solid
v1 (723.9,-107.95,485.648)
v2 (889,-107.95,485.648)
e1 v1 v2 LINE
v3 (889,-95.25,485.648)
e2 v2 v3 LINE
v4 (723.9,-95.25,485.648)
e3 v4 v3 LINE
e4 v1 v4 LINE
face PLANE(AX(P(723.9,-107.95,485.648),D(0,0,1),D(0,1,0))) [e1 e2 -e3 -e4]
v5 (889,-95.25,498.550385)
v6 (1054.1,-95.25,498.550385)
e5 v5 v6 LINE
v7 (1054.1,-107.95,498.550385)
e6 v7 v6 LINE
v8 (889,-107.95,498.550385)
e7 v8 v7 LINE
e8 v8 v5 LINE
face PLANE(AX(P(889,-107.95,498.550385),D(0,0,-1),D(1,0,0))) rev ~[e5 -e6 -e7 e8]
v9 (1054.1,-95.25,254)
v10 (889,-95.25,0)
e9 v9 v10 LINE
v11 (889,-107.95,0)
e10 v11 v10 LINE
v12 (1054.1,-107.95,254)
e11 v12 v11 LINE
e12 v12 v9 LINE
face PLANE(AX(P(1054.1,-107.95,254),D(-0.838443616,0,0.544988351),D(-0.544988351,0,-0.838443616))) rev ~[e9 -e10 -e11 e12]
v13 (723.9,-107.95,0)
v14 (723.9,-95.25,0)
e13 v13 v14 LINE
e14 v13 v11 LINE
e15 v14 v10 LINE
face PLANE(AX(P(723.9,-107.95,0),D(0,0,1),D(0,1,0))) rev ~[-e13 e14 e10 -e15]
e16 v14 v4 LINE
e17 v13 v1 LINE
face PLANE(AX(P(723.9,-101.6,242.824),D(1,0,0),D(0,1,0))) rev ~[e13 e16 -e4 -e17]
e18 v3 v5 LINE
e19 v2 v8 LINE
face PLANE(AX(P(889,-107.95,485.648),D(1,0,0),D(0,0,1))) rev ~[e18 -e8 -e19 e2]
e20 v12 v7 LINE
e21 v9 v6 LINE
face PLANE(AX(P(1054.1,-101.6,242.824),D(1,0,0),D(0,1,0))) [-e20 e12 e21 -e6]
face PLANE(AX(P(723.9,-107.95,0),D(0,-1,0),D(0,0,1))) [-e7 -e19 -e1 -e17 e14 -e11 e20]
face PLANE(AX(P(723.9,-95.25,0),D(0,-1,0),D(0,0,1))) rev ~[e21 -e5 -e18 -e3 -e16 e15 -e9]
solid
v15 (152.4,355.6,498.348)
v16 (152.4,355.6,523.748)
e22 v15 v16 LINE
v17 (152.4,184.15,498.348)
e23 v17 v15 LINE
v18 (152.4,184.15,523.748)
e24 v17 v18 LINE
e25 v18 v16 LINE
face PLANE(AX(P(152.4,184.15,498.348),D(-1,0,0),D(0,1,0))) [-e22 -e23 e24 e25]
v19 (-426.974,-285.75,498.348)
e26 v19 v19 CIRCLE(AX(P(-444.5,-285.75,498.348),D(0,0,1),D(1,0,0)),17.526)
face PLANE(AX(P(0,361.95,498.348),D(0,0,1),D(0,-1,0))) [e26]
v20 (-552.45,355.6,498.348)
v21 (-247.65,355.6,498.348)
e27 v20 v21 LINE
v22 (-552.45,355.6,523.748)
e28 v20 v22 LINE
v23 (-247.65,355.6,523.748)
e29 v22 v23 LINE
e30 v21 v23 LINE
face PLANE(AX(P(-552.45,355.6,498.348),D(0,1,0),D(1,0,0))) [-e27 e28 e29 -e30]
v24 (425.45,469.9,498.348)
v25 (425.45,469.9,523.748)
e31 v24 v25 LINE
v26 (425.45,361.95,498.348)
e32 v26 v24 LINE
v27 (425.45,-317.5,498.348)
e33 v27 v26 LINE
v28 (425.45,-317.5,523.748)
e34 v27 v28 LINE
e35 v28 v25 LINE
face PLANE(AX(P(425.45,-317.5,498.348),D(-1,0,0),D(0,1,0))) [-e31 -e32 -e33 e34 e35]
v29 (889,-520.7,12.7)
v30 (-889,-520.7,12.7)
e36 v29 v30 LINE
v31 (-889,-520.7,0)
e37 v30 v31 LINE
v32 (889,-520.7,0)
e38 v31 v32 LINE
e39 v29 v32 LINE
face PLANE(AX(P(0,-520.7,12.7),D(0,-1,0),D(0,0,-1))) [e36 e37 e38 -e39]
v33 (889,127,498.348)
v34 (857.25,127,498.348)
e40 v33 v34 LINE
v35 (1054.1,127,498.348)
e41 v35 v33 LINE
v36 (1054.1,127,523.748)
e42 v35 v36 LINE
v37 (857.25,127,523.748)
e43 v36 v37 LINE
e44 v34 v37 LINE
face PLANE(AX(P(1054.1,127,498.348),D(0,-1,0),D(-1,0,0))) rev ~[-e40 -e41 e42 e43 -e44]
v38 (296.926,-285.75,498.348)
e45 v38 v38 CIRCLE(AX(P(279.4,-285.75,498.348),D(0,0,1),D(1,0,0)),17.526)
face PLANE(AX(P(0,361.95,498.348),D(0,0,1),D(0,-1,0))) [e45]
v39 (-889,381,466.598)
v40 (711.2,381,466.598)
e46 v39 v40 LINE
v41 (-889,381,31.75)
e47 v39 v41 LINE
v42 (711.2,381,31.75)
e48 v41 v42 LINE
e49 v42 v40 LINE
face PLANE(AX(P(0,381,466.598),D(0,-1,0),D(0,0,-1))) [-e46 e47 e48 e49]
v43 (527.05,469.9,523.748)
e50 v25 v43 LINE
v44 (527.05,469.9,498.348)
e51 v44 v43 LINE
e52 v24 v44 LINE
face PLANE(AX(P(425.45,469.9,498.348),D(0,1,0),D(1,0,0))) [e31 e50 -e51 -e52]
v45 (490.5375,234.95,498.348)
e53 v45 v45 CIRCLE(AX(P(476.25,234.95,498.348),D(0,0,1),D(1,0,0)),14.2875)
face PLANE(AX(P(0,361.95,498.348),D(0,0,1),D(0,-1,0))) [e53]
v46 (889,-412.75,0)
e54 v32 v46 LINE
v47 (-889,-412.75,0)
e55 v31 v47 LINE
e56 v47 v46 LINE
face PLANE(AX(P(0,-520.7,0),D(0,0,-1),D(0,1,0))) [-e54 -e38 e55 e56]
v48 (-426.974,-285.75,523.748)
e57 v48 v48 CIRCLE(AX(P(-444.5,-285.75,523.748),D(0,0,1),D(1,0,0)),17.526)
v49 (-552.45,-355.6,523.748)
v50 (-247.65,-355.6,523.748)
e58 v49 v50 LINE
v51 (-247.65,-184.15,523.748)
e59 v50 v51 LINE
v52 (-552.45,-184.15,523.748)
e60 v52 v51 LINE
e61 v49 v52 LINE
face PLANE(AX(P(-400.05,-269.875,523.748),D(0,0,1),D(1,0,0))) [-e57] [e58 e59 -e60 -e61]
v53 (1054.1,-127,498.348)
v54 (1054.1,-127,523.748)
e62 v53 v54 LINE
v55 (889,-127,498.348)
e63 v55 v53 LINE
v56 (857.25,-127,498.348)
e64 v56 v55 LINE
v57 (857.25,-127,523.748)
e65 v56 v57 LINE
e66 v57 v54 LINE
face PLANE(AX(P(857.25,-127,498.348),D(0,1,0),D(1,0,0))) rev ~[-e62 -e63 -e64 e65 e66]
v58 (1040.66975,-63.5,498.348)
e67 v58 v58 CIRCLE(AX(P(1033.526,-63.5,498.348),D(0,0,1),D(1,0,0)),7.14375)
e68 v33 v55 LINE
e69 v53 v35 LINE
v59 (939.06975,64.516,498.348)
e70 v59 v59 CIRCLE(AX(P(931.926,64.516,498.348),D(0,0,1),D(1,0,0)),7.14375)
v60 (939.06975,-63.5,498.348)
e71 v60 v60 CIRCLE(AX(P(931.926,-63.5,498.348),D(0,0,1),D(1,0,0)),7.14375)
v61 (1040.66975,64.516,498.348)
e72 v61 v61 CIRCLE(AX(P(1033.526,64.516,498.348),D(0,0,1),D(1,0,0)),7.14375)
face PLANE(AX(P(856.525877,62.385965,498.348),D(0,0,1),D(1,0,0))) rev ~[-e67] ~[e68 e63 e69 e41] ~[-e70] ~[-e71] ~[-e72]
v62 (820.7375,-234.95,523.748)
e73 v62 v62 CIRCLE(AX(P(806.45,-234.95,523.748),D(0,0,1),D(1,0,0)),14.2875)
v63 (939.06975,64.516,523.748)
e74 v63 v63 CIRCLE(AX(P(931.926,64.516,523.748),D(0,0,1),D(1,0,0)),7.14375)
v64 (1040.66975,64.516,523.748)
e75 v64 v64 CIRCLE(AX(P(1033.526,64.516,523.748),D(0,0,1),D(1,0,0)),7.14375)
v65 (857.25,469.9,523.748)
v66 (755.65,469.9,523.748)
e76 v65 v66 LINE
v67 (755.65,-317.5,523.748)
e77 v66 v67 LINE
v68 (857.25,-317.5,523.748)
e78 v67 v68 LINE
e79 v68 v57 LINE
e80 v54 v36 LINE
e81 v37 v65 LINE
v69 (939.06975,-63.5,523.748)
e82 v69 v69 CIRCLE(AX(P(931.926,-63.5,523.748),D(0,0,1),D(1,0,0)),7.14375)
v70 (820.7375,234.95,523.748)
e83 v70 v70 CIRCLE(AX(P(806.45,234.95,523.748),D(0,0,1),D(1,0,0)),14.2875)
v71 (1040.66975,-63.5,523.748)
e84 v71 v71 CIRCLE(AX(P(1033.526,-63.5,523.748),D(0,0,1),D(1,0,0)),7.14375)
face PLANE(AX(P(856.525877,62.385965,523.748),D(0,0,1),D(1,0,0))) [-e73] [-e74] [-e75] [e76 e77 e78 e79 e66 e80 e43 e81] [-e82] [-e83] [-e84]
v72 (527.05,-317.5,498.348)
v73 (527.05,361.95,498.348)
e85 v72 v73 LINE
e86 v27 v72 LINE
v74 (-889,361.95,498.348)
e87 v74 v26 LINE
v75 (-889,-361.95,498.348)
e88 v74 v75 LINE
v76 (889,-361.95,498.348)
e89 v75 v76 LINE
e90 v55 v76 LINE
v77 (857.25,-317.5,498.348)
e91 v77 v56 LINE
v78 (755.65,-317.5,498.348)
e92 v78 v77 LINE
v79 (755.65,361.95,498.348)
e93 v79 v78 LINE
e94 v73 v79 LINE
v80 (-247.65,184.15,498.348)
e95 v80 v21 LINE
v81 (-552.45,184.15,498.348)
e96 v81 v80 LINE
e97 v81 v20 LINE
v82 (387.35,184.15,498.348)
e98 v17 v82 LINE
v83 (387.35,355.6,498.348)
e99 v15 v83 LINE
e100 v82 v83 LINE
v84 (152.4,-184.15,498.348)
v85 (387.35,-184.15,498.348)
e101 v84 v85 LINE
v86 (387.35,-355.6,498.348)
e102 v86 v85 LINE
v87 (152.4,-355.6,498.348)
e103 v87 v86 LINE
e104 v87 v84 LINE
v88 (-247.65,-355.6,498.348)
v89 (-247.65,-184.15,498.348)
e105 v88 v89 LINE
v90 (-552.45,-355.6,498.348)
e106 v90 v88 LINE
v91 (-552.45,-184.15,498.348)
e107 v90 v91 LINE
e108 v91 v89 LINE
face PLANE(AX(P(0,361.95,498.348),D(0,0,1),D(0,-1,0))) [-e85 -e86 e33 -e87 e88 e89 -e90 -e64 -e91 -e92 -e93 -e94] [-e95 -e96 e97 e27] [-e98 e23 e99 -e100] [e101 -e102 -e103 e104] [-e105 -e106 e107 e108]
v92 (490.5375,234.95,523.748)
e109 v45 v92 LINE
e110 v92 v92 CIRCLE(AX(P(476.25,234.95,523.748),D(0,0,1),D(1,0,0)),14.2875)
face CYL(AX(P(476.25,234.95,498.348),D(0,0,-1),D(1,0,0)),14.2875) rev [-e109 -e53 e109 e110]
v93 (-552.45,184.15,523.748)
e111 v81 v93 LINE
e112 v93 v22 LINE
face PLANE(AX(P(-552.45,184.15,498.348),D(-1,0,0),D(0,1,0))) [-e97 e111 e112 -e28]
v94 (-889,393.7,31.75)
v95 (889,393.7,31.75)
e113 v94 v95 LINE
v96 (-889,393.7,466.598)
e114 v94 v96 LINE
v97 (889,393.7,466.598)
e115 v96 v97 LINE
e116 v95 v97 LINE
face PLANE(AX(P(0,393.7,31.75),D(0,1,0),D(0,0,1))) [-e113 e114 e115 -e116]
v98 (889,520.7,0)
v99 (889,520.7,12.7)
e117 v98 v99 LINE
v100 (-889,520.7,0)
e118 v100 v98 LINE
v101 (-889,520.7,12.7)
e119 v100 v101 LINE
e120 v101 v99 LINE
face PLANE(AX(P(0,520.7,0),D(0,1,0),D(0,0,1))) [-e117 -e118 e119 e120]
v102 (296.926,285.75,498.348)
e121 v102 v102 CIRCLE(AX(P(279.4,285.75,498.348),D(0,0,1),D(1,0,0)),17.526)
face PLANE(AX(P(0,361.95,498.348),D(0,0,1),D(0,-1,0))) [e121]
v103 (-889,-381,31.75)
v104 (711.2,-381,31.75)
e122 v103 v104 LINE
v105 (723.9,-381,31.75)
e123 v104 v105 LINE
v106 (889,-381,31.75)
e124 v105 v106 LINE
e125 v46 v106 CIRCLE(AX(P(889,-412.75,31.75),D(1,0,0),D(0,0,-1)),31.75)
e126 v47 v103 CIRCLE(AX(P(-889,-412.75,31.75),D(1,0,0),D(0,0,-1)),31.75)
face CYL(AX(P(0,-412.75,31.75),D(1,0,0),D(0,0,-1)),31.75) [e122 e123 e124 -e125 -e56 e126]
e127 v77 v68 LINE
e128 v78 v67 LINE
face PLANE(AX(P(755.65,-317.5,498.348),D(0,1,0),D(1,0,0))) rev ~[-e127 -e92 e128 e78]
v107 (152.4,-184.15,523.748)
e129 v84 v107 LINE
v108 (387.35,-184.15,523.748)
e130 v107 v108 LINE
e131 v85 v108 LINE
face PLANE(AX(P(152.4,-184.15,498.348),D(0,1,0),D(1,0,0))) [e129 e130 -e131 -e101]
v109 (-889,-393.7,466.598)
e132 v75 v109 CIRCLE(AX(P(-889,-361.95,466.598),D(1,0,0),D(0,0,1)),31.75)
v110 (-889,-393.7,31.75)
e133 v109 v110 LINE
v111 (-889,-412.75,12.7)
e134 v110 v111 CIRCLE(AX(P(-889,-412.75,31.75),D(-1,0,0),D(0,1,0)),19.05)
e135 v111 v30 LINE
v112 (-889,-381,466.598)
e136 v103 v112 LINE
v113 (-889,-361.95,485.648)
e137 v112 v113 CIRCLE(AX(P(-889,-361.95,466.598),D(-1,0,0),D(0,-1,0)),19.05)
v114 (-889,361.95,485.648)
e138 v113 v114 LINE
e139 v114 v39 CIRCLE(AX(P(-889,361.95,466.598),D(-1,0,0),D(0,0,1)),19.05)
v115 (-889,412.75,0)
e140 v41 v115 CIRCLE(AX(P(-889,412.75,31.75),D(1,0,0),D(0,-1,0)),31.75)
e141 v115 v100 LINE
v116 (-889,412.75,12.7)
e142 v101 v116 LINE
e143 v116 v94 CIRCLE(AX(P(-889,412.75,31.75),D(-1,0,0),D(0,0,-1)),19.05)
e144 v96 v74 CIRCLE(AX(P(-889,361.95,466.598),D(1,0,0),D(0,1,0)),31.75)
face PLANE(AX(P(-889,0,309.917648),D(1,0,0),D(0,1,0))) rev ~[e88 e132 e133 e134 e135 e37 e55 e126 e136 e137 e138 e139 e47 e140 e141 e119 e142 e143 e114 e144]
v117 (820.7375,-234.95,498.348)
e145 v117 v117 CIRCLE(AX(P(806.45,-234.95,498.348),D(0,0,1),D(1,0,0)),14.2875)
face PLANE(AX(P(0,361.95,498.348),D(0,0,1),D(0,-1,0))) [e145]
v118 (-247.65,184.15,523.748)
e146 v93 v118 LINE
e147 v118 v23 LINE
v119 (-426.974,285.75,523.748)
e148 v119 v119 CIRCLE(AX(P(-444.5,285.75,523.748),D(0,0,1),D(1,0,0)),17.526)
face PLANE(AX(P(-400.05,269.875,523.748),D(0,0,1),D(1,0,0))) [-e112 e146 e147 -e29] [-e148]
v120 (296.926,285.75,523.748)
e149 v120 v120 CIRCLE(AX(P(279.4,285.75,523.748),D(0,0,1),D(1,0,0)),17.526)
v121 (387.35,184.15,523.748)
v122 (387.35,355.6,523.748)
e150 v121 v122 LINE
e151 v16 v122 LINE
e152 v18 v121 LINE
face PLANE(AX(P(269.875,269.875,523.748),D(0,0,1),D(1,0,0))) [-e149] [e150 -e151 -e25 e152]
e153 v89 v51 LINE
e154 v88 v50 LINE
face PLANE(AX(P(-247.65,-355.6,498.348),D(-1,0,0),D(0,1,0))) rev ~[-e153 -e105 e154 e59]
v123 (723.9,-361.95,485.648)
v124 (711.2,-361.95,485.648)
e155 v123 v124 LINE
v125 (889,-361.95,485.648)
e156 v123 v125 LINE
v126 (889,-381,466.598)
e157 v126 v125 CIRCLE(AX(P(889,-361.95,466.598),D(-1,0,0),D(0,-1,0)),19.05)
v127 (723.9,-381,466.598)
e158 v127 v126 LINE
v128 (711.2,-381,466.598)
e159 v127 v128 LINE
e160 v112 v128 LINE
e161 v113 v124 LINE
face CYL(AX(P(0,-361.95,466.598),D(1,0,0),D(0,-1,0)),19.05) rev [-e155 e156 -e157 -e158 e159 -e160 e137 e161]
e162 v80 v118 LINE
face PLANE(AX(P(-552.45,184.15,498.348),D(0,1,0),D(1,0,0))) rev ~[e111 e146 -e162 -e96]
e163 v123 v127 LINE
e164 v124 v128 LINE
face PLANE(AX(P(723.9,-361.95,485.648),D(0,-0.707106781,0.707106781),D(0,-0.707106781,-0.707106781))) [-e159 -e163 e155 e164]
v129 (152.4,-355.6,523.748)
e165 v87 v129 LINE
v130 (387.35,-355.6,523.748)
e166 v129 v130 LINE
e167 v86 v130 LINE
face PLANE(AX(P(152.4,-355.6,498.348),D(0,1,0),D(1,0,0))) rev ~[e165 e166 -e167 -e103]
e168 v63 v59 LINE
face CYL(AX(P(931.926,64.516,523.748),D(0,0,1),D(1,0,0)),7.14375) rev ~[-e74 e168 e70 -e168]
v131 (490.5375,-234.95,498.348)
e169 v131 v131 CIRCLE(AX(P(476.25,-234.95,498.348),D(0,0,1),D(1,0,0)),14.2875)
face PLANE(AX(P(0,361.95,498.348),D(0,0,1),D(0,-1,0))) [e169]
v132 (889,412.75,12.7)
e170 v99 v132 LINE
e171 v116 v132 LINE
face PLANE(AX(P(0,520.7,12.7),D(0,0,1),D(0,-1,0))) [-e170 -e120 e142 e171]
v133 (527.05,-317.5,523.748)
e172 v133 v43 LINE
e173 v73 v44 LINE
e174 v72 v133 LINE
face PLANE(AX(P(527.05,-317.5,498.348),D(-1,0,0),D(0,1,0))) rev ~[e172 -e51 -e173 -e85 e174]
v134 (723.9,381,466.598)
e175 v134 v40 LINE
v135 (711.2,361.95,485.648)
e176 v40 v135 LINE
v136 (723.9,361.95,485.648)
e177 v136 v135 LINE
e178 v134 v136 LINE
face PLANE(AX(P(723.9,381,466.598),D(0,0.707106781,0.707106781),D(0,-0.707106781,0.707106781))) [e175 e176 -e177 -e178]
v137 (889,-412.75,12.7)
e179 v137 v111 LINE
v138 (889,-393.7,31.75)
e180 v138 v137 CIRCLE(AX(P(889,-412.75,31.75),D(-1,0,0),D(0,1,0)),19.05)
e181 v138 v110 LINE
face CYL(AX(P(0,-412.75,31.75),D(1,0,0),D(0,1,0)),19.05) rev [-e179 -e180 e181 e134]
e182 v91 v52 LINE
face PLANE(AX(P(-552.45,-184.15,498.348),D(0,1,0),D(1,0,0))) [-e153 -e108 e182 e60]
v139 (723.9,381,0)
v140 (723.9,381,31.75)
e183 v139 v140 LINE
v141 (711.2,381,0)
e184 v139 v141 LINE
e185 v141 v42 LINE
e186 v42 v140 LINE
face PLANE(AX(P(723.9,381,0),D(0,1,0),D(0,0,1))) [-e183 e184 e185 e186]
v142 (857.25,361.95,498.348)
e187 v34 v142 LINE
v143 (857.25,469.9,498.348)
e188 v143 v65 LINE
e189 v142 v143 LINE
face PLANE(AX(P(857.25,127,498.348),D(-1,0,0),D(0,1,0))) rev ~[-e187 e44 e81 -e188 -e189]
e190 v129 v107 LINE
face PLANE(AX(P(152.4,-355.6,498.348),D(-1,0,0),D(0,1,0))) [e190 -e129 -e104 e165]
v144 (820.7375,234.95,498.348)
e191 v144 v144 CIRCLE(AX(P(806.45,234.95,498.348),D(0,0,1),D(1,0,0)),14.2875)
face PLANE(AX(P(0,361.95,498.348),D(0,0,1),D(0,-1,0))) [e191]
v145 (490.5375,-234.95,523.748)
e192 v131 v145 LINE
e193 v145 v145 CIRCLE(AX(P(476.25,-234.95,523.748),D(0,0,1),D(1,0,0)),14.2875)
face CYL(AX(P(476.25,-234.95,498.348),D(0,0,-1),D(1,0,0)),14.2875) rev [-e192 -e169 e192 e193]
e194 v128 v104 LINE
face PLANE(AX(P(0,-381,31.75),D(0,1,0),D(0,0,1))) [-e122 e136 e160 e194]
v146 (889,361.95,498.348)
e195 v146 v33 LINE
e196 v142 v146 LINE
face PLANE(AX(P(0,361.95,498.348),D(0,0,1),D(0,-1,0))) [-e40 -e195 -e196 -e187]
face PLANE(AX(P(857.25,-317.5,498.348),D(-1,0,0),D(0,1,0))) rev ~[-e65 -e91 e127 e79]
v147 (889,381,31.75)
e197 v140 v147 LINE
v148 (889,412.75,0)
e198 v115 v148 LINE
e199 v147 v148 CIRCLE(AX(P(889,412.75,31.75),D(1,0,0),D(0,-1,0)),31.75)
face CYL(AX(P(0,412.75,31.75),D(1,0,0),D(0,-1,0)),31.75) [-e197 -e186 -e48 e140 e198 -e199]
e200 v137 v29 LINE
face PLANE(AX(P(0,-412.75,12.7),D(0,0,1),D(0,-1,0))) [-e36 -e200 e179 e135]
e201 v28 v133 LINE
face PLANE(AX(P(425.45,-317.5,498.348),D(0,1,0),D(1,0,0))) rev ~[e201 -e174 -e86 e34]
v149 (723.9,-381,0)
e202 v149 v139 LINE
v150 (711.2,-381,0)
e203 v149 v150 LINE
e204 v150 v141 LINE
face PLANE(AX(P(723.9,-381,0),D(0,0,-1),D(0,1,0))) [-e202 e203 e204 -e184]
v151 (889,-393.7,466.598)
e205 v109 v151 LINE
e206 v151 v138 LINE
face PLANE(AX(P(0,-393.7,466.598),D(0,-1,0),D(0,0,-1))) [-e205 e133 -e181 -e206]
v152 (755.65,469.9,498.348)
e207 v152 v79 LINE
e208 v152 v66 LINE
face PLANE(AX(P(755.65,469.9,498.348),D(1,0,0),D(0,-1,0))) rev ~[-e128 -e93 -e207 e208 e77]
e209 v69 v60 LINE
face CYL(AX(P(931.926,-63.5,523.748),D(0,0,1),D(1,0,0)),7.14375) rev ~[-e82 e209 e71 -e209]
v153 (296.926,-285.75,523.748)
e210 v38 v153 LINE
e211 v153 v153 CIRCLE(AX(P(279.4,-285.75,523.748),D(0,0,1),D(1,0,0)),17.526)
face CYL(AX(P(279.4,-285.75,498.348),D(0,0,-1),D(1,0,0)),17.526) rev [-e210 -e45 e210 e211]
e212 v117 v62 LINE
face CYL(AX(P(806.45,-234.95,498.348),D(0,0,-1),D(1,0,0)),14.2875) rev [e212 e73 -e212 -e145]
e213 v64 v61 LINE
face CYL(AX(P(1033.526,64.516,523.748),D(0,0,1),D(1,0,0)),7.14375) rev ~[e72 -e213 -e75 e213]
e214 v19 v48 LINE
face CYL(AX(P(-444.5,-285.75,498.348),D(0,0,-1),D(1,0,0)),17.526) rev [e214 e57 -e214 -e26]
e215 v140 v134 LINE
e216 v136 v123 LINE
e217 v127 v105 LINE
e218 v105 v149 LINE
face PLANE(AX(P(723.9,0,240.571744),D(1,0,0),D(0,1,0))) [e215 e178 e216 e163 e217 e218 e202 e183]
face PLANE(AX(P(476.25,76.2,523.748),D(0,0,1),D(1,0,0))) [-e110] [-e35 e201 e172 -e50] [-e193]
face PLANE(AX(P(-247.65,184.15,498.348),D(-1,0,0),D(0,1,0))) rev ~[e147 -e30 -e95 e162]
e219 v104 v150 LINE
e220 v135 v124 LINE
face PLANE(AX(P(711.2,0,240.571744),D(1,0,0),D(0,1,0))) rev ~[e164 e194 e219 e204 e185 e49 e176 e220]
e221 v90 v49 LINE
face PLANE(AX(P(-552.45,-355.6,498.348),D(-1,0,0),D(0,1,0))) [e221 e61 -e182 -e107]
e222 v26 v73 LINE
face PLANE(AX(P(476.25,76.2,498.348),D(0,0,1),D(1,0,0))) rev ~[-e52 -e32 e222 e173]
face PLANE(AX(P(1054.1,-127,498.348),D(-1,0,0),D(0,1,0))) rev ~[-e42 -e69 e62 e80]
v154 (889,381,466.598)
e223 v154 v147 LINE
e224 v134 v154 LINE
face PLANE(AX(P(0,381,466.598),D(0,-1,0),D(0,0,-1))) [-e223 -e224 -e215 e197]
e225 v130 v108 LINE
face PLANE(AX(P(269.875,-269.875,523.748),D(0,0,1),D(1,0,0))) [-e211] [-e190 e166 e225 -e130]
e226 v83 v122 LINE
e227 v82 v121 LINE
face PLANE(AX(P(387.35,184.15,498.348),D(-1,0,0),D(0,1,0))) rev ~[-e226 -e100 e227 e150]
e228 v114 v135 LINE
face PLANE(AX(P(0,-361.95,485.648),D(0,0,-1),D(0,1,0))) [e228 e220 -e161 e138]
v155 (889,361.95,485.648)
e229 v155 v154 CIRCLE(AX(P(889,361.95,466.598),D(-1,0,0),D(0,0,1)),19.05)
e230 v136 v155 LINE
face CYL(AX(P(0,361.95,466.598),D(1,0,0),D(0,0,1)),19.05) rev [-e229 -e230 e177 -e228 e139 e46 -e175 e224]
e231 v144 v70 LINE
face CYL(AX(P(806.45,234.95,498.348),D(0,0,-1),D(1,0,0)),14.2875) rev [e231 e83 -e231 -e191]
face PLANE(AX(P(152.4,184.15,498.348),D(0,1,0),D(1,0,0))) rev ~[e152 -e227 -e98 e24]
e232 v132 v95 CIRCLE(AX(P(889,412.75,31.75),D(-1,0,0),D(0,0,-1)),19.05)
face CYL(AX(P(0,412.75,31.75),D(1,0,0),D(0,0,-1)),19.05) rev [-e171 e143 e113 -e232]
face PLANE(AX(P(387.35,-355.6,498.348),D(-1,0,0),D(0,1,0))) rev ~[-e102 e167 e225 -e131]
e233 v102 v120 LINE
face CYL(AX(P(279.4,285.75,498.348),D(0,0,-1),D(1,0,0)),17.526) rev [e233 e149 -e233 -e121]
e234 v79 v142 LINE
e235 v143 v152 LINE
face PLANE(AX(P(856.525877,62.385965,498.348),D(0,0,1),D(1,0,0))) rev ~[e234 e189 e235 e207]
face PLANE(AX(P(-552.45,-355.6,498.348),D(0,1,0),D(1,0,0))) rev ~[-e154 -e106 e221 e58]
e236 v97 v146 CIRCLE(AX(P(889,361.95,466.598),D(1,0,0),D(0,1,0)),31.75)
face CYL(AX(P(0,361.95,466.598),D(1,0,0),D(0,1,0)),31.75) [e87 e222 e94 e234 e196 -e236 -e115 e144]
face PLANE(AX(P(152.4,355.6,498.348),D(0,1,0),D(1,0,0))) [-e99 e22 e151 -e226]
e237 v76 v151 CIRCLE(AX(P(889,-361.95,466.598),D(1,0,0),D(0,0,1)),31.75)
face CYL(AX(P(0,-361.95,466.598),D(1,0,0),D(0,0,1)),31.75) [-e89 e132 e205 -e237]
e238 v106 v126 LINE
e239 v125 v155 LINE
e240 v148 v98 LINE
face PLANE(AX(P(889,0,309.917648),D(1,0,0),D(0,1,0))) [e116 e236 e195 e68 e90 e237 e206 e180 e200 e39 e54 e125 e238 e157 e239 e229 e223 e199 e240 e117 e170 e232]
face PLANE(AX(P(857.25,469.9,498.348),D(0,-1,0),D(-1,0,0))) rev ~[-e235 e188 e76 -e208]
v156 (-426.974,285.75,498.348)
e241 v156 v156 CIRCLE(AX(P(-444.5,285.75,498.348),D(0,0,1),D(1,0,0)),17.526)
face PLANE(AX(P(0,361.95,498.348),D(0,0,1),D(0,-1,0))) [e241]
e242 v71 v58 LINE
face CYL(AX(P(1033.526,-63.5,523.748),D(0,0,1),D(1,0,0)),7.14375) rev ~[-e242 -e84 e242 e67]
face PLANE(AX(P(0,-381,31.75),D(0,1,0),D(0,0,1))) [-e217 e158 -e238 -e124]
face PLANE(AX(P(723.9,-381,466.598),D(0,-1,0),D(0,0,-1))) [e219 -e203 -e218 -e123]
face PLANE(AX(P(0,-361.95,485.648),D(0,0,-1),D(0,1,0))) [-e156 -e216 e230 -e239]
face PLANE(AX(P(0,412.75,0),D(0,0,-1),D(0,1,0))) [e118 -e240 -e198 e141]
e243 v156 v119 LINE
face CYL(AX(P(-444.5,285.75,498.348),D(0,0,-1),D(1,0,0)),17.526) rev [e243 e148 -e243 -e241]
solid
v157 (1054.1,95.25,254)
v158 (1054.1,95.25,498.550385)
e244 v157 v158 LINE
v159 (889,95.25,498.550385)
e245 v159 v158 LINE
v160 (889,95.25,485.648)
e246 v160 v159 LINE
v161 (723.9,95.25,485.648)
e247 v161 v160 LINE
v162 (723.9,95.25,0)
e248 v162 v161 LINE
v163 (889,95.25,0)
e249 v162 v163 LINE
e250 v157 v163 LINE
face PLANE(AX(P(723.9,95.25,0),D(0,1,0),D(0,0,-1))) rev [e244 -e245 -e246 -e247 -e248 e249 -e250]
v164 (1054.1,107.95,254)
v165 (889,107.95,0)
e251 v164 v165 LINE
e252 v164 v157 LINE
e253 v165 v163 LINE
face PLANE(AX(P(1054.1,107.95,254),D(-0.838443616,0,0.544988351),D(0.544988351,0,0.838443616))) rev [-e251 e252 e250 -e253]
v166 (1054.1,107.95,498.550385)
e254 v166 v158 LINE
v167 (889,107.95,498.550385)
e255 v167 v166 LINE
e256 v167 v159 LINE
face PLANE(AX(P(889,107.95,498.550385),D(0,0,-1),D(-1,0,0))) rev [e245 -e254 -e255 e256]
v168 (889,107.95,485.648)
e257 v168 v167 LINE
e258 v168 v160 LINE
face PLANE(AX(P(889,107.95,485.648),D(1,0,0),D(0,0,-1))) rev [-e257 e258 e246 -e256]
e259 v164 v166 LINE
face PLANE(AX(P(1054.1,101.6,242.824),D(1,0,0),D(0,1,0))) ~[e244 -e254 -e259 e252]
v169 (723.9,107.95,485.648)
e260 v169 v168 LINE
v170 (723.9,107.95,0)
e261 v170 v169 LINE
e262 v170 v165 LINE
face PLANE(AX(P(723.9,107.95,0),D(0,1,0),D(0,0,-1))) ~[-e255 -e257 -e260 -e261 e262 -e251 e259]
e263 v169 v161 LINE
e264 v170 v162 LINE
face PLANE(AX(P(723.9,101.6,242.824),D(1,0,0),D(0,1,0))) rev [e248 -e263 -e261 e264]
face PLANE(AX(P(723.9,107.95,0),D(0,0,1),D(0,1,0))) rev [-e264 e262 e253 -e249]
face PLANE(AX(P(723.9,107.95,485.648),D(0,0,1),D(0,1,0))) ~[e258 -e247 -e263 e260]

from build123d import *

# Parameters (mm, degrees)
F1_DEPTH  = 889
F2_W      = 101.6
F2_H      = 787.4
F2_R      = 14.2875
F3_DEPTH  = 25.4
F4_R      = 7.14375
F5_DEPTH  = 523.749
F8_DEPTH  = 12.7
F9_W      = 12.7
F9_H      = 485.648
F10_DEPTH = 330.2
F11_W     = 165.0999999996
F11_H     = 12.9023852367
F12_DEPTH = 12.7
F15_DEPTH = 628.651
F17_W     = 304.8
F17_H     = 171.45
F17_R     = 17.526
F17_W_2   = 234.95
F18_DEPTH = 25.4


with BuildPart() as f1:
    # F0 (on Right) → F1 (new body, symmetric)
    with BuildSketch(Plane.YZ):
        with BuildLine():
            Line((-520.7, 12.7), (-520.7, 0))
            Line((-520.7, 0), (-412.75, 0))
            ThreePointArc((-412.75, 0), (-390.2993596973, 9.2993596973), (-381, 31.75))
            Line((-381, 31.75), (-381, 466.598))
            ThreePointArc((-381, 466.598), (-375.4203841816, 480.0683841816), (-361.95, 485.648))
            Line((-361.95, 485.648), (0, 485.648))
            Line((0, 485.648), (361.95, 485.648))
            ThreePointArc((361.95, 485.648), (375.4203841816, 480.0683841816), (381, 466.598))
            Line((381, 466.598), (381, 31.75))
            ThreePointArc((381, 31.75), (390.2993596973, 9.2993596973), (412.75, 0))
            Line((412.75, 0), (520.7, 0))
            Line((520.7, 0), (520.7, 12.7))
            Line((520.7, 12.7), (412.75, 12.7))
            ThreePointArc((412.75, 12.7), (399.2796158184, 18.2796158184), (393.7, 31.75))
            Line((393.7, 31.75), (393.7, 466.598))
            ThreePointArc((393.7, 466.598), (384.4006403027, 489.0486403027), (361.95, 498.348))
            Line((361.95, 498.348), (0, 498.348))
            Line((0, 498.348), (-361.95, 498.348))
            ThreePointArc((-361.95, 498.348), (-384.4006403027, 489.0486403027), (-393.7, 466.598))
            Line((-393.7, 466.598), (-393.7, 31.75))
            ThreePointArc((-393.7, 31.75), (-399.2796158184, 18.2796158184), (-412.75, 12.7))
            Line((-412.75, 12.7), (-520.7, 12.7))
        make_face()
    extrude(amount=F1_DEPTH, both=True)

    # F2 (on face) → F3 (join)
    with BuildSketch(Plane.XY.offset(498.348)):
        with Locations((476.25, 76.2)):
            Rectangle(F2_W, F2_H)
        with Locations((476.25, -234.95)):
            Circle(F2_R, mode=Mode.SUBTRACT)
        with Locations((476.25, 234.95)):
            Circle(F2_R, mode=Mode.SUBTRACT)
        Polygon((857.25, 469.9), (755.65, 469.9), (755.65, -317.5), (857.25, -317.5), (857.25, -127), (1054.1, -127), (1054.1, 127), (857.25, 127), align=None)
        with Locations((806.45, -234.95)):
            Circle(F2_R, mode=Mode.SUBTRACT)
        with Locations((806.45, 234.95)):
            Circle(F2_R, mode=Mode.SUBTRACT)
    extrude(amount=F3_DEPTH)

    # F4 (on face) → F5 (cut, through all)
    with BuildSketch(Plane.XY.offset(523.748)):
        with Locations((931.926, 64.516)):
            Circle(F4_R)
        with Locations((1033.526, 64.516)):
            Circle(F4_R)
        with Locations((1033.526, -63.5)):
            Circle(F4_R)
        with Locations((931.926, -63.5)):
            Circle(F4_R)
    extrude(amount=-F5_DEPTH, mode=Mode.SUBTRACT)

    # F7 (on offset) → F8 (join)
    with BuildSketch(Plane.YZ.offset(723.9)):
        Polygon((361.95, 485.648), (-361.95, 485.648), (-381, 466.598), (-381, 0), (381, 0), (381, 466.598), align=None)
    extrude(amount=-F8_DEPTH)

    # F17 (on face) → F18 (join)
    with BuildSketch(Plane.XY.offset(498.348)):
        with Locations((-400.05, 269.875)):
            Rectangle(F17_W, F17_H)
        with Locations((-444.5, 285.75)):
            Circle(F17_R, mode=Mode.SUBTRACT)
        with Locations((269.875, 269.875)):
            Rectangle(F17_W_2, F17_H)
        with Locations((279.4, 285.75)):
            Circle(F17_R, mode=Mode.SUBTRACT)
        with Locations((269.875, -269.875)):
            Rectangle(F17_W_2, F17_H)
        with Locations((279.4, -285.75)):
            Circle(F17_R, mode=Mode.SUBTRACT)
        with Locations((-400.05, -269.875)):
            Rectangle(F17_W, F17_H)
        with Locations((-444.5, -285.75)):
            Circle(F17_R, mode=Mode.SUBTRACT)
    extrude(amount=F18_DEPTH)


with BuildPart() as f10:
    # F9 (on face) → F10 (new body, through all)
    with BuildSketch(Plane.YZ.offset(723.9)):
        with Locations((-101.6, 242.824)):
            Rectangle(F9_W, F9_H)
    extrude(amount=F10_DEPTH)


with BuildPart() as f12:
    # F11 (on face) → F12 (new body)
    with BuildSketch(Plane.XZ.offset(107.95)):
        with Locations((971.5500000003, 492.0991926184)):
            Rectangle(F11_W, F11_H)
    extrude(amount=-F12_DEPTH)

    # F13: union F10
    add(f10.part)

    # F14 (on face) → F15 (cut, through all)
    with BuildSketch(Plane.XZ.offset(107.95)):
        Polygon((1054.1000000005, 0), (1054.1000000007, 254), (889, 0), align=None)
    extrude(amount=-F15_DEPTH, mode=Mode.SUBTRACT)


with BuildPart() as f16_1:
    # F16: instance of F12
    add(f12.part.mirror(Plane.XZ))


solid = Compound([f1.part, f12.part, f16_1.part])
